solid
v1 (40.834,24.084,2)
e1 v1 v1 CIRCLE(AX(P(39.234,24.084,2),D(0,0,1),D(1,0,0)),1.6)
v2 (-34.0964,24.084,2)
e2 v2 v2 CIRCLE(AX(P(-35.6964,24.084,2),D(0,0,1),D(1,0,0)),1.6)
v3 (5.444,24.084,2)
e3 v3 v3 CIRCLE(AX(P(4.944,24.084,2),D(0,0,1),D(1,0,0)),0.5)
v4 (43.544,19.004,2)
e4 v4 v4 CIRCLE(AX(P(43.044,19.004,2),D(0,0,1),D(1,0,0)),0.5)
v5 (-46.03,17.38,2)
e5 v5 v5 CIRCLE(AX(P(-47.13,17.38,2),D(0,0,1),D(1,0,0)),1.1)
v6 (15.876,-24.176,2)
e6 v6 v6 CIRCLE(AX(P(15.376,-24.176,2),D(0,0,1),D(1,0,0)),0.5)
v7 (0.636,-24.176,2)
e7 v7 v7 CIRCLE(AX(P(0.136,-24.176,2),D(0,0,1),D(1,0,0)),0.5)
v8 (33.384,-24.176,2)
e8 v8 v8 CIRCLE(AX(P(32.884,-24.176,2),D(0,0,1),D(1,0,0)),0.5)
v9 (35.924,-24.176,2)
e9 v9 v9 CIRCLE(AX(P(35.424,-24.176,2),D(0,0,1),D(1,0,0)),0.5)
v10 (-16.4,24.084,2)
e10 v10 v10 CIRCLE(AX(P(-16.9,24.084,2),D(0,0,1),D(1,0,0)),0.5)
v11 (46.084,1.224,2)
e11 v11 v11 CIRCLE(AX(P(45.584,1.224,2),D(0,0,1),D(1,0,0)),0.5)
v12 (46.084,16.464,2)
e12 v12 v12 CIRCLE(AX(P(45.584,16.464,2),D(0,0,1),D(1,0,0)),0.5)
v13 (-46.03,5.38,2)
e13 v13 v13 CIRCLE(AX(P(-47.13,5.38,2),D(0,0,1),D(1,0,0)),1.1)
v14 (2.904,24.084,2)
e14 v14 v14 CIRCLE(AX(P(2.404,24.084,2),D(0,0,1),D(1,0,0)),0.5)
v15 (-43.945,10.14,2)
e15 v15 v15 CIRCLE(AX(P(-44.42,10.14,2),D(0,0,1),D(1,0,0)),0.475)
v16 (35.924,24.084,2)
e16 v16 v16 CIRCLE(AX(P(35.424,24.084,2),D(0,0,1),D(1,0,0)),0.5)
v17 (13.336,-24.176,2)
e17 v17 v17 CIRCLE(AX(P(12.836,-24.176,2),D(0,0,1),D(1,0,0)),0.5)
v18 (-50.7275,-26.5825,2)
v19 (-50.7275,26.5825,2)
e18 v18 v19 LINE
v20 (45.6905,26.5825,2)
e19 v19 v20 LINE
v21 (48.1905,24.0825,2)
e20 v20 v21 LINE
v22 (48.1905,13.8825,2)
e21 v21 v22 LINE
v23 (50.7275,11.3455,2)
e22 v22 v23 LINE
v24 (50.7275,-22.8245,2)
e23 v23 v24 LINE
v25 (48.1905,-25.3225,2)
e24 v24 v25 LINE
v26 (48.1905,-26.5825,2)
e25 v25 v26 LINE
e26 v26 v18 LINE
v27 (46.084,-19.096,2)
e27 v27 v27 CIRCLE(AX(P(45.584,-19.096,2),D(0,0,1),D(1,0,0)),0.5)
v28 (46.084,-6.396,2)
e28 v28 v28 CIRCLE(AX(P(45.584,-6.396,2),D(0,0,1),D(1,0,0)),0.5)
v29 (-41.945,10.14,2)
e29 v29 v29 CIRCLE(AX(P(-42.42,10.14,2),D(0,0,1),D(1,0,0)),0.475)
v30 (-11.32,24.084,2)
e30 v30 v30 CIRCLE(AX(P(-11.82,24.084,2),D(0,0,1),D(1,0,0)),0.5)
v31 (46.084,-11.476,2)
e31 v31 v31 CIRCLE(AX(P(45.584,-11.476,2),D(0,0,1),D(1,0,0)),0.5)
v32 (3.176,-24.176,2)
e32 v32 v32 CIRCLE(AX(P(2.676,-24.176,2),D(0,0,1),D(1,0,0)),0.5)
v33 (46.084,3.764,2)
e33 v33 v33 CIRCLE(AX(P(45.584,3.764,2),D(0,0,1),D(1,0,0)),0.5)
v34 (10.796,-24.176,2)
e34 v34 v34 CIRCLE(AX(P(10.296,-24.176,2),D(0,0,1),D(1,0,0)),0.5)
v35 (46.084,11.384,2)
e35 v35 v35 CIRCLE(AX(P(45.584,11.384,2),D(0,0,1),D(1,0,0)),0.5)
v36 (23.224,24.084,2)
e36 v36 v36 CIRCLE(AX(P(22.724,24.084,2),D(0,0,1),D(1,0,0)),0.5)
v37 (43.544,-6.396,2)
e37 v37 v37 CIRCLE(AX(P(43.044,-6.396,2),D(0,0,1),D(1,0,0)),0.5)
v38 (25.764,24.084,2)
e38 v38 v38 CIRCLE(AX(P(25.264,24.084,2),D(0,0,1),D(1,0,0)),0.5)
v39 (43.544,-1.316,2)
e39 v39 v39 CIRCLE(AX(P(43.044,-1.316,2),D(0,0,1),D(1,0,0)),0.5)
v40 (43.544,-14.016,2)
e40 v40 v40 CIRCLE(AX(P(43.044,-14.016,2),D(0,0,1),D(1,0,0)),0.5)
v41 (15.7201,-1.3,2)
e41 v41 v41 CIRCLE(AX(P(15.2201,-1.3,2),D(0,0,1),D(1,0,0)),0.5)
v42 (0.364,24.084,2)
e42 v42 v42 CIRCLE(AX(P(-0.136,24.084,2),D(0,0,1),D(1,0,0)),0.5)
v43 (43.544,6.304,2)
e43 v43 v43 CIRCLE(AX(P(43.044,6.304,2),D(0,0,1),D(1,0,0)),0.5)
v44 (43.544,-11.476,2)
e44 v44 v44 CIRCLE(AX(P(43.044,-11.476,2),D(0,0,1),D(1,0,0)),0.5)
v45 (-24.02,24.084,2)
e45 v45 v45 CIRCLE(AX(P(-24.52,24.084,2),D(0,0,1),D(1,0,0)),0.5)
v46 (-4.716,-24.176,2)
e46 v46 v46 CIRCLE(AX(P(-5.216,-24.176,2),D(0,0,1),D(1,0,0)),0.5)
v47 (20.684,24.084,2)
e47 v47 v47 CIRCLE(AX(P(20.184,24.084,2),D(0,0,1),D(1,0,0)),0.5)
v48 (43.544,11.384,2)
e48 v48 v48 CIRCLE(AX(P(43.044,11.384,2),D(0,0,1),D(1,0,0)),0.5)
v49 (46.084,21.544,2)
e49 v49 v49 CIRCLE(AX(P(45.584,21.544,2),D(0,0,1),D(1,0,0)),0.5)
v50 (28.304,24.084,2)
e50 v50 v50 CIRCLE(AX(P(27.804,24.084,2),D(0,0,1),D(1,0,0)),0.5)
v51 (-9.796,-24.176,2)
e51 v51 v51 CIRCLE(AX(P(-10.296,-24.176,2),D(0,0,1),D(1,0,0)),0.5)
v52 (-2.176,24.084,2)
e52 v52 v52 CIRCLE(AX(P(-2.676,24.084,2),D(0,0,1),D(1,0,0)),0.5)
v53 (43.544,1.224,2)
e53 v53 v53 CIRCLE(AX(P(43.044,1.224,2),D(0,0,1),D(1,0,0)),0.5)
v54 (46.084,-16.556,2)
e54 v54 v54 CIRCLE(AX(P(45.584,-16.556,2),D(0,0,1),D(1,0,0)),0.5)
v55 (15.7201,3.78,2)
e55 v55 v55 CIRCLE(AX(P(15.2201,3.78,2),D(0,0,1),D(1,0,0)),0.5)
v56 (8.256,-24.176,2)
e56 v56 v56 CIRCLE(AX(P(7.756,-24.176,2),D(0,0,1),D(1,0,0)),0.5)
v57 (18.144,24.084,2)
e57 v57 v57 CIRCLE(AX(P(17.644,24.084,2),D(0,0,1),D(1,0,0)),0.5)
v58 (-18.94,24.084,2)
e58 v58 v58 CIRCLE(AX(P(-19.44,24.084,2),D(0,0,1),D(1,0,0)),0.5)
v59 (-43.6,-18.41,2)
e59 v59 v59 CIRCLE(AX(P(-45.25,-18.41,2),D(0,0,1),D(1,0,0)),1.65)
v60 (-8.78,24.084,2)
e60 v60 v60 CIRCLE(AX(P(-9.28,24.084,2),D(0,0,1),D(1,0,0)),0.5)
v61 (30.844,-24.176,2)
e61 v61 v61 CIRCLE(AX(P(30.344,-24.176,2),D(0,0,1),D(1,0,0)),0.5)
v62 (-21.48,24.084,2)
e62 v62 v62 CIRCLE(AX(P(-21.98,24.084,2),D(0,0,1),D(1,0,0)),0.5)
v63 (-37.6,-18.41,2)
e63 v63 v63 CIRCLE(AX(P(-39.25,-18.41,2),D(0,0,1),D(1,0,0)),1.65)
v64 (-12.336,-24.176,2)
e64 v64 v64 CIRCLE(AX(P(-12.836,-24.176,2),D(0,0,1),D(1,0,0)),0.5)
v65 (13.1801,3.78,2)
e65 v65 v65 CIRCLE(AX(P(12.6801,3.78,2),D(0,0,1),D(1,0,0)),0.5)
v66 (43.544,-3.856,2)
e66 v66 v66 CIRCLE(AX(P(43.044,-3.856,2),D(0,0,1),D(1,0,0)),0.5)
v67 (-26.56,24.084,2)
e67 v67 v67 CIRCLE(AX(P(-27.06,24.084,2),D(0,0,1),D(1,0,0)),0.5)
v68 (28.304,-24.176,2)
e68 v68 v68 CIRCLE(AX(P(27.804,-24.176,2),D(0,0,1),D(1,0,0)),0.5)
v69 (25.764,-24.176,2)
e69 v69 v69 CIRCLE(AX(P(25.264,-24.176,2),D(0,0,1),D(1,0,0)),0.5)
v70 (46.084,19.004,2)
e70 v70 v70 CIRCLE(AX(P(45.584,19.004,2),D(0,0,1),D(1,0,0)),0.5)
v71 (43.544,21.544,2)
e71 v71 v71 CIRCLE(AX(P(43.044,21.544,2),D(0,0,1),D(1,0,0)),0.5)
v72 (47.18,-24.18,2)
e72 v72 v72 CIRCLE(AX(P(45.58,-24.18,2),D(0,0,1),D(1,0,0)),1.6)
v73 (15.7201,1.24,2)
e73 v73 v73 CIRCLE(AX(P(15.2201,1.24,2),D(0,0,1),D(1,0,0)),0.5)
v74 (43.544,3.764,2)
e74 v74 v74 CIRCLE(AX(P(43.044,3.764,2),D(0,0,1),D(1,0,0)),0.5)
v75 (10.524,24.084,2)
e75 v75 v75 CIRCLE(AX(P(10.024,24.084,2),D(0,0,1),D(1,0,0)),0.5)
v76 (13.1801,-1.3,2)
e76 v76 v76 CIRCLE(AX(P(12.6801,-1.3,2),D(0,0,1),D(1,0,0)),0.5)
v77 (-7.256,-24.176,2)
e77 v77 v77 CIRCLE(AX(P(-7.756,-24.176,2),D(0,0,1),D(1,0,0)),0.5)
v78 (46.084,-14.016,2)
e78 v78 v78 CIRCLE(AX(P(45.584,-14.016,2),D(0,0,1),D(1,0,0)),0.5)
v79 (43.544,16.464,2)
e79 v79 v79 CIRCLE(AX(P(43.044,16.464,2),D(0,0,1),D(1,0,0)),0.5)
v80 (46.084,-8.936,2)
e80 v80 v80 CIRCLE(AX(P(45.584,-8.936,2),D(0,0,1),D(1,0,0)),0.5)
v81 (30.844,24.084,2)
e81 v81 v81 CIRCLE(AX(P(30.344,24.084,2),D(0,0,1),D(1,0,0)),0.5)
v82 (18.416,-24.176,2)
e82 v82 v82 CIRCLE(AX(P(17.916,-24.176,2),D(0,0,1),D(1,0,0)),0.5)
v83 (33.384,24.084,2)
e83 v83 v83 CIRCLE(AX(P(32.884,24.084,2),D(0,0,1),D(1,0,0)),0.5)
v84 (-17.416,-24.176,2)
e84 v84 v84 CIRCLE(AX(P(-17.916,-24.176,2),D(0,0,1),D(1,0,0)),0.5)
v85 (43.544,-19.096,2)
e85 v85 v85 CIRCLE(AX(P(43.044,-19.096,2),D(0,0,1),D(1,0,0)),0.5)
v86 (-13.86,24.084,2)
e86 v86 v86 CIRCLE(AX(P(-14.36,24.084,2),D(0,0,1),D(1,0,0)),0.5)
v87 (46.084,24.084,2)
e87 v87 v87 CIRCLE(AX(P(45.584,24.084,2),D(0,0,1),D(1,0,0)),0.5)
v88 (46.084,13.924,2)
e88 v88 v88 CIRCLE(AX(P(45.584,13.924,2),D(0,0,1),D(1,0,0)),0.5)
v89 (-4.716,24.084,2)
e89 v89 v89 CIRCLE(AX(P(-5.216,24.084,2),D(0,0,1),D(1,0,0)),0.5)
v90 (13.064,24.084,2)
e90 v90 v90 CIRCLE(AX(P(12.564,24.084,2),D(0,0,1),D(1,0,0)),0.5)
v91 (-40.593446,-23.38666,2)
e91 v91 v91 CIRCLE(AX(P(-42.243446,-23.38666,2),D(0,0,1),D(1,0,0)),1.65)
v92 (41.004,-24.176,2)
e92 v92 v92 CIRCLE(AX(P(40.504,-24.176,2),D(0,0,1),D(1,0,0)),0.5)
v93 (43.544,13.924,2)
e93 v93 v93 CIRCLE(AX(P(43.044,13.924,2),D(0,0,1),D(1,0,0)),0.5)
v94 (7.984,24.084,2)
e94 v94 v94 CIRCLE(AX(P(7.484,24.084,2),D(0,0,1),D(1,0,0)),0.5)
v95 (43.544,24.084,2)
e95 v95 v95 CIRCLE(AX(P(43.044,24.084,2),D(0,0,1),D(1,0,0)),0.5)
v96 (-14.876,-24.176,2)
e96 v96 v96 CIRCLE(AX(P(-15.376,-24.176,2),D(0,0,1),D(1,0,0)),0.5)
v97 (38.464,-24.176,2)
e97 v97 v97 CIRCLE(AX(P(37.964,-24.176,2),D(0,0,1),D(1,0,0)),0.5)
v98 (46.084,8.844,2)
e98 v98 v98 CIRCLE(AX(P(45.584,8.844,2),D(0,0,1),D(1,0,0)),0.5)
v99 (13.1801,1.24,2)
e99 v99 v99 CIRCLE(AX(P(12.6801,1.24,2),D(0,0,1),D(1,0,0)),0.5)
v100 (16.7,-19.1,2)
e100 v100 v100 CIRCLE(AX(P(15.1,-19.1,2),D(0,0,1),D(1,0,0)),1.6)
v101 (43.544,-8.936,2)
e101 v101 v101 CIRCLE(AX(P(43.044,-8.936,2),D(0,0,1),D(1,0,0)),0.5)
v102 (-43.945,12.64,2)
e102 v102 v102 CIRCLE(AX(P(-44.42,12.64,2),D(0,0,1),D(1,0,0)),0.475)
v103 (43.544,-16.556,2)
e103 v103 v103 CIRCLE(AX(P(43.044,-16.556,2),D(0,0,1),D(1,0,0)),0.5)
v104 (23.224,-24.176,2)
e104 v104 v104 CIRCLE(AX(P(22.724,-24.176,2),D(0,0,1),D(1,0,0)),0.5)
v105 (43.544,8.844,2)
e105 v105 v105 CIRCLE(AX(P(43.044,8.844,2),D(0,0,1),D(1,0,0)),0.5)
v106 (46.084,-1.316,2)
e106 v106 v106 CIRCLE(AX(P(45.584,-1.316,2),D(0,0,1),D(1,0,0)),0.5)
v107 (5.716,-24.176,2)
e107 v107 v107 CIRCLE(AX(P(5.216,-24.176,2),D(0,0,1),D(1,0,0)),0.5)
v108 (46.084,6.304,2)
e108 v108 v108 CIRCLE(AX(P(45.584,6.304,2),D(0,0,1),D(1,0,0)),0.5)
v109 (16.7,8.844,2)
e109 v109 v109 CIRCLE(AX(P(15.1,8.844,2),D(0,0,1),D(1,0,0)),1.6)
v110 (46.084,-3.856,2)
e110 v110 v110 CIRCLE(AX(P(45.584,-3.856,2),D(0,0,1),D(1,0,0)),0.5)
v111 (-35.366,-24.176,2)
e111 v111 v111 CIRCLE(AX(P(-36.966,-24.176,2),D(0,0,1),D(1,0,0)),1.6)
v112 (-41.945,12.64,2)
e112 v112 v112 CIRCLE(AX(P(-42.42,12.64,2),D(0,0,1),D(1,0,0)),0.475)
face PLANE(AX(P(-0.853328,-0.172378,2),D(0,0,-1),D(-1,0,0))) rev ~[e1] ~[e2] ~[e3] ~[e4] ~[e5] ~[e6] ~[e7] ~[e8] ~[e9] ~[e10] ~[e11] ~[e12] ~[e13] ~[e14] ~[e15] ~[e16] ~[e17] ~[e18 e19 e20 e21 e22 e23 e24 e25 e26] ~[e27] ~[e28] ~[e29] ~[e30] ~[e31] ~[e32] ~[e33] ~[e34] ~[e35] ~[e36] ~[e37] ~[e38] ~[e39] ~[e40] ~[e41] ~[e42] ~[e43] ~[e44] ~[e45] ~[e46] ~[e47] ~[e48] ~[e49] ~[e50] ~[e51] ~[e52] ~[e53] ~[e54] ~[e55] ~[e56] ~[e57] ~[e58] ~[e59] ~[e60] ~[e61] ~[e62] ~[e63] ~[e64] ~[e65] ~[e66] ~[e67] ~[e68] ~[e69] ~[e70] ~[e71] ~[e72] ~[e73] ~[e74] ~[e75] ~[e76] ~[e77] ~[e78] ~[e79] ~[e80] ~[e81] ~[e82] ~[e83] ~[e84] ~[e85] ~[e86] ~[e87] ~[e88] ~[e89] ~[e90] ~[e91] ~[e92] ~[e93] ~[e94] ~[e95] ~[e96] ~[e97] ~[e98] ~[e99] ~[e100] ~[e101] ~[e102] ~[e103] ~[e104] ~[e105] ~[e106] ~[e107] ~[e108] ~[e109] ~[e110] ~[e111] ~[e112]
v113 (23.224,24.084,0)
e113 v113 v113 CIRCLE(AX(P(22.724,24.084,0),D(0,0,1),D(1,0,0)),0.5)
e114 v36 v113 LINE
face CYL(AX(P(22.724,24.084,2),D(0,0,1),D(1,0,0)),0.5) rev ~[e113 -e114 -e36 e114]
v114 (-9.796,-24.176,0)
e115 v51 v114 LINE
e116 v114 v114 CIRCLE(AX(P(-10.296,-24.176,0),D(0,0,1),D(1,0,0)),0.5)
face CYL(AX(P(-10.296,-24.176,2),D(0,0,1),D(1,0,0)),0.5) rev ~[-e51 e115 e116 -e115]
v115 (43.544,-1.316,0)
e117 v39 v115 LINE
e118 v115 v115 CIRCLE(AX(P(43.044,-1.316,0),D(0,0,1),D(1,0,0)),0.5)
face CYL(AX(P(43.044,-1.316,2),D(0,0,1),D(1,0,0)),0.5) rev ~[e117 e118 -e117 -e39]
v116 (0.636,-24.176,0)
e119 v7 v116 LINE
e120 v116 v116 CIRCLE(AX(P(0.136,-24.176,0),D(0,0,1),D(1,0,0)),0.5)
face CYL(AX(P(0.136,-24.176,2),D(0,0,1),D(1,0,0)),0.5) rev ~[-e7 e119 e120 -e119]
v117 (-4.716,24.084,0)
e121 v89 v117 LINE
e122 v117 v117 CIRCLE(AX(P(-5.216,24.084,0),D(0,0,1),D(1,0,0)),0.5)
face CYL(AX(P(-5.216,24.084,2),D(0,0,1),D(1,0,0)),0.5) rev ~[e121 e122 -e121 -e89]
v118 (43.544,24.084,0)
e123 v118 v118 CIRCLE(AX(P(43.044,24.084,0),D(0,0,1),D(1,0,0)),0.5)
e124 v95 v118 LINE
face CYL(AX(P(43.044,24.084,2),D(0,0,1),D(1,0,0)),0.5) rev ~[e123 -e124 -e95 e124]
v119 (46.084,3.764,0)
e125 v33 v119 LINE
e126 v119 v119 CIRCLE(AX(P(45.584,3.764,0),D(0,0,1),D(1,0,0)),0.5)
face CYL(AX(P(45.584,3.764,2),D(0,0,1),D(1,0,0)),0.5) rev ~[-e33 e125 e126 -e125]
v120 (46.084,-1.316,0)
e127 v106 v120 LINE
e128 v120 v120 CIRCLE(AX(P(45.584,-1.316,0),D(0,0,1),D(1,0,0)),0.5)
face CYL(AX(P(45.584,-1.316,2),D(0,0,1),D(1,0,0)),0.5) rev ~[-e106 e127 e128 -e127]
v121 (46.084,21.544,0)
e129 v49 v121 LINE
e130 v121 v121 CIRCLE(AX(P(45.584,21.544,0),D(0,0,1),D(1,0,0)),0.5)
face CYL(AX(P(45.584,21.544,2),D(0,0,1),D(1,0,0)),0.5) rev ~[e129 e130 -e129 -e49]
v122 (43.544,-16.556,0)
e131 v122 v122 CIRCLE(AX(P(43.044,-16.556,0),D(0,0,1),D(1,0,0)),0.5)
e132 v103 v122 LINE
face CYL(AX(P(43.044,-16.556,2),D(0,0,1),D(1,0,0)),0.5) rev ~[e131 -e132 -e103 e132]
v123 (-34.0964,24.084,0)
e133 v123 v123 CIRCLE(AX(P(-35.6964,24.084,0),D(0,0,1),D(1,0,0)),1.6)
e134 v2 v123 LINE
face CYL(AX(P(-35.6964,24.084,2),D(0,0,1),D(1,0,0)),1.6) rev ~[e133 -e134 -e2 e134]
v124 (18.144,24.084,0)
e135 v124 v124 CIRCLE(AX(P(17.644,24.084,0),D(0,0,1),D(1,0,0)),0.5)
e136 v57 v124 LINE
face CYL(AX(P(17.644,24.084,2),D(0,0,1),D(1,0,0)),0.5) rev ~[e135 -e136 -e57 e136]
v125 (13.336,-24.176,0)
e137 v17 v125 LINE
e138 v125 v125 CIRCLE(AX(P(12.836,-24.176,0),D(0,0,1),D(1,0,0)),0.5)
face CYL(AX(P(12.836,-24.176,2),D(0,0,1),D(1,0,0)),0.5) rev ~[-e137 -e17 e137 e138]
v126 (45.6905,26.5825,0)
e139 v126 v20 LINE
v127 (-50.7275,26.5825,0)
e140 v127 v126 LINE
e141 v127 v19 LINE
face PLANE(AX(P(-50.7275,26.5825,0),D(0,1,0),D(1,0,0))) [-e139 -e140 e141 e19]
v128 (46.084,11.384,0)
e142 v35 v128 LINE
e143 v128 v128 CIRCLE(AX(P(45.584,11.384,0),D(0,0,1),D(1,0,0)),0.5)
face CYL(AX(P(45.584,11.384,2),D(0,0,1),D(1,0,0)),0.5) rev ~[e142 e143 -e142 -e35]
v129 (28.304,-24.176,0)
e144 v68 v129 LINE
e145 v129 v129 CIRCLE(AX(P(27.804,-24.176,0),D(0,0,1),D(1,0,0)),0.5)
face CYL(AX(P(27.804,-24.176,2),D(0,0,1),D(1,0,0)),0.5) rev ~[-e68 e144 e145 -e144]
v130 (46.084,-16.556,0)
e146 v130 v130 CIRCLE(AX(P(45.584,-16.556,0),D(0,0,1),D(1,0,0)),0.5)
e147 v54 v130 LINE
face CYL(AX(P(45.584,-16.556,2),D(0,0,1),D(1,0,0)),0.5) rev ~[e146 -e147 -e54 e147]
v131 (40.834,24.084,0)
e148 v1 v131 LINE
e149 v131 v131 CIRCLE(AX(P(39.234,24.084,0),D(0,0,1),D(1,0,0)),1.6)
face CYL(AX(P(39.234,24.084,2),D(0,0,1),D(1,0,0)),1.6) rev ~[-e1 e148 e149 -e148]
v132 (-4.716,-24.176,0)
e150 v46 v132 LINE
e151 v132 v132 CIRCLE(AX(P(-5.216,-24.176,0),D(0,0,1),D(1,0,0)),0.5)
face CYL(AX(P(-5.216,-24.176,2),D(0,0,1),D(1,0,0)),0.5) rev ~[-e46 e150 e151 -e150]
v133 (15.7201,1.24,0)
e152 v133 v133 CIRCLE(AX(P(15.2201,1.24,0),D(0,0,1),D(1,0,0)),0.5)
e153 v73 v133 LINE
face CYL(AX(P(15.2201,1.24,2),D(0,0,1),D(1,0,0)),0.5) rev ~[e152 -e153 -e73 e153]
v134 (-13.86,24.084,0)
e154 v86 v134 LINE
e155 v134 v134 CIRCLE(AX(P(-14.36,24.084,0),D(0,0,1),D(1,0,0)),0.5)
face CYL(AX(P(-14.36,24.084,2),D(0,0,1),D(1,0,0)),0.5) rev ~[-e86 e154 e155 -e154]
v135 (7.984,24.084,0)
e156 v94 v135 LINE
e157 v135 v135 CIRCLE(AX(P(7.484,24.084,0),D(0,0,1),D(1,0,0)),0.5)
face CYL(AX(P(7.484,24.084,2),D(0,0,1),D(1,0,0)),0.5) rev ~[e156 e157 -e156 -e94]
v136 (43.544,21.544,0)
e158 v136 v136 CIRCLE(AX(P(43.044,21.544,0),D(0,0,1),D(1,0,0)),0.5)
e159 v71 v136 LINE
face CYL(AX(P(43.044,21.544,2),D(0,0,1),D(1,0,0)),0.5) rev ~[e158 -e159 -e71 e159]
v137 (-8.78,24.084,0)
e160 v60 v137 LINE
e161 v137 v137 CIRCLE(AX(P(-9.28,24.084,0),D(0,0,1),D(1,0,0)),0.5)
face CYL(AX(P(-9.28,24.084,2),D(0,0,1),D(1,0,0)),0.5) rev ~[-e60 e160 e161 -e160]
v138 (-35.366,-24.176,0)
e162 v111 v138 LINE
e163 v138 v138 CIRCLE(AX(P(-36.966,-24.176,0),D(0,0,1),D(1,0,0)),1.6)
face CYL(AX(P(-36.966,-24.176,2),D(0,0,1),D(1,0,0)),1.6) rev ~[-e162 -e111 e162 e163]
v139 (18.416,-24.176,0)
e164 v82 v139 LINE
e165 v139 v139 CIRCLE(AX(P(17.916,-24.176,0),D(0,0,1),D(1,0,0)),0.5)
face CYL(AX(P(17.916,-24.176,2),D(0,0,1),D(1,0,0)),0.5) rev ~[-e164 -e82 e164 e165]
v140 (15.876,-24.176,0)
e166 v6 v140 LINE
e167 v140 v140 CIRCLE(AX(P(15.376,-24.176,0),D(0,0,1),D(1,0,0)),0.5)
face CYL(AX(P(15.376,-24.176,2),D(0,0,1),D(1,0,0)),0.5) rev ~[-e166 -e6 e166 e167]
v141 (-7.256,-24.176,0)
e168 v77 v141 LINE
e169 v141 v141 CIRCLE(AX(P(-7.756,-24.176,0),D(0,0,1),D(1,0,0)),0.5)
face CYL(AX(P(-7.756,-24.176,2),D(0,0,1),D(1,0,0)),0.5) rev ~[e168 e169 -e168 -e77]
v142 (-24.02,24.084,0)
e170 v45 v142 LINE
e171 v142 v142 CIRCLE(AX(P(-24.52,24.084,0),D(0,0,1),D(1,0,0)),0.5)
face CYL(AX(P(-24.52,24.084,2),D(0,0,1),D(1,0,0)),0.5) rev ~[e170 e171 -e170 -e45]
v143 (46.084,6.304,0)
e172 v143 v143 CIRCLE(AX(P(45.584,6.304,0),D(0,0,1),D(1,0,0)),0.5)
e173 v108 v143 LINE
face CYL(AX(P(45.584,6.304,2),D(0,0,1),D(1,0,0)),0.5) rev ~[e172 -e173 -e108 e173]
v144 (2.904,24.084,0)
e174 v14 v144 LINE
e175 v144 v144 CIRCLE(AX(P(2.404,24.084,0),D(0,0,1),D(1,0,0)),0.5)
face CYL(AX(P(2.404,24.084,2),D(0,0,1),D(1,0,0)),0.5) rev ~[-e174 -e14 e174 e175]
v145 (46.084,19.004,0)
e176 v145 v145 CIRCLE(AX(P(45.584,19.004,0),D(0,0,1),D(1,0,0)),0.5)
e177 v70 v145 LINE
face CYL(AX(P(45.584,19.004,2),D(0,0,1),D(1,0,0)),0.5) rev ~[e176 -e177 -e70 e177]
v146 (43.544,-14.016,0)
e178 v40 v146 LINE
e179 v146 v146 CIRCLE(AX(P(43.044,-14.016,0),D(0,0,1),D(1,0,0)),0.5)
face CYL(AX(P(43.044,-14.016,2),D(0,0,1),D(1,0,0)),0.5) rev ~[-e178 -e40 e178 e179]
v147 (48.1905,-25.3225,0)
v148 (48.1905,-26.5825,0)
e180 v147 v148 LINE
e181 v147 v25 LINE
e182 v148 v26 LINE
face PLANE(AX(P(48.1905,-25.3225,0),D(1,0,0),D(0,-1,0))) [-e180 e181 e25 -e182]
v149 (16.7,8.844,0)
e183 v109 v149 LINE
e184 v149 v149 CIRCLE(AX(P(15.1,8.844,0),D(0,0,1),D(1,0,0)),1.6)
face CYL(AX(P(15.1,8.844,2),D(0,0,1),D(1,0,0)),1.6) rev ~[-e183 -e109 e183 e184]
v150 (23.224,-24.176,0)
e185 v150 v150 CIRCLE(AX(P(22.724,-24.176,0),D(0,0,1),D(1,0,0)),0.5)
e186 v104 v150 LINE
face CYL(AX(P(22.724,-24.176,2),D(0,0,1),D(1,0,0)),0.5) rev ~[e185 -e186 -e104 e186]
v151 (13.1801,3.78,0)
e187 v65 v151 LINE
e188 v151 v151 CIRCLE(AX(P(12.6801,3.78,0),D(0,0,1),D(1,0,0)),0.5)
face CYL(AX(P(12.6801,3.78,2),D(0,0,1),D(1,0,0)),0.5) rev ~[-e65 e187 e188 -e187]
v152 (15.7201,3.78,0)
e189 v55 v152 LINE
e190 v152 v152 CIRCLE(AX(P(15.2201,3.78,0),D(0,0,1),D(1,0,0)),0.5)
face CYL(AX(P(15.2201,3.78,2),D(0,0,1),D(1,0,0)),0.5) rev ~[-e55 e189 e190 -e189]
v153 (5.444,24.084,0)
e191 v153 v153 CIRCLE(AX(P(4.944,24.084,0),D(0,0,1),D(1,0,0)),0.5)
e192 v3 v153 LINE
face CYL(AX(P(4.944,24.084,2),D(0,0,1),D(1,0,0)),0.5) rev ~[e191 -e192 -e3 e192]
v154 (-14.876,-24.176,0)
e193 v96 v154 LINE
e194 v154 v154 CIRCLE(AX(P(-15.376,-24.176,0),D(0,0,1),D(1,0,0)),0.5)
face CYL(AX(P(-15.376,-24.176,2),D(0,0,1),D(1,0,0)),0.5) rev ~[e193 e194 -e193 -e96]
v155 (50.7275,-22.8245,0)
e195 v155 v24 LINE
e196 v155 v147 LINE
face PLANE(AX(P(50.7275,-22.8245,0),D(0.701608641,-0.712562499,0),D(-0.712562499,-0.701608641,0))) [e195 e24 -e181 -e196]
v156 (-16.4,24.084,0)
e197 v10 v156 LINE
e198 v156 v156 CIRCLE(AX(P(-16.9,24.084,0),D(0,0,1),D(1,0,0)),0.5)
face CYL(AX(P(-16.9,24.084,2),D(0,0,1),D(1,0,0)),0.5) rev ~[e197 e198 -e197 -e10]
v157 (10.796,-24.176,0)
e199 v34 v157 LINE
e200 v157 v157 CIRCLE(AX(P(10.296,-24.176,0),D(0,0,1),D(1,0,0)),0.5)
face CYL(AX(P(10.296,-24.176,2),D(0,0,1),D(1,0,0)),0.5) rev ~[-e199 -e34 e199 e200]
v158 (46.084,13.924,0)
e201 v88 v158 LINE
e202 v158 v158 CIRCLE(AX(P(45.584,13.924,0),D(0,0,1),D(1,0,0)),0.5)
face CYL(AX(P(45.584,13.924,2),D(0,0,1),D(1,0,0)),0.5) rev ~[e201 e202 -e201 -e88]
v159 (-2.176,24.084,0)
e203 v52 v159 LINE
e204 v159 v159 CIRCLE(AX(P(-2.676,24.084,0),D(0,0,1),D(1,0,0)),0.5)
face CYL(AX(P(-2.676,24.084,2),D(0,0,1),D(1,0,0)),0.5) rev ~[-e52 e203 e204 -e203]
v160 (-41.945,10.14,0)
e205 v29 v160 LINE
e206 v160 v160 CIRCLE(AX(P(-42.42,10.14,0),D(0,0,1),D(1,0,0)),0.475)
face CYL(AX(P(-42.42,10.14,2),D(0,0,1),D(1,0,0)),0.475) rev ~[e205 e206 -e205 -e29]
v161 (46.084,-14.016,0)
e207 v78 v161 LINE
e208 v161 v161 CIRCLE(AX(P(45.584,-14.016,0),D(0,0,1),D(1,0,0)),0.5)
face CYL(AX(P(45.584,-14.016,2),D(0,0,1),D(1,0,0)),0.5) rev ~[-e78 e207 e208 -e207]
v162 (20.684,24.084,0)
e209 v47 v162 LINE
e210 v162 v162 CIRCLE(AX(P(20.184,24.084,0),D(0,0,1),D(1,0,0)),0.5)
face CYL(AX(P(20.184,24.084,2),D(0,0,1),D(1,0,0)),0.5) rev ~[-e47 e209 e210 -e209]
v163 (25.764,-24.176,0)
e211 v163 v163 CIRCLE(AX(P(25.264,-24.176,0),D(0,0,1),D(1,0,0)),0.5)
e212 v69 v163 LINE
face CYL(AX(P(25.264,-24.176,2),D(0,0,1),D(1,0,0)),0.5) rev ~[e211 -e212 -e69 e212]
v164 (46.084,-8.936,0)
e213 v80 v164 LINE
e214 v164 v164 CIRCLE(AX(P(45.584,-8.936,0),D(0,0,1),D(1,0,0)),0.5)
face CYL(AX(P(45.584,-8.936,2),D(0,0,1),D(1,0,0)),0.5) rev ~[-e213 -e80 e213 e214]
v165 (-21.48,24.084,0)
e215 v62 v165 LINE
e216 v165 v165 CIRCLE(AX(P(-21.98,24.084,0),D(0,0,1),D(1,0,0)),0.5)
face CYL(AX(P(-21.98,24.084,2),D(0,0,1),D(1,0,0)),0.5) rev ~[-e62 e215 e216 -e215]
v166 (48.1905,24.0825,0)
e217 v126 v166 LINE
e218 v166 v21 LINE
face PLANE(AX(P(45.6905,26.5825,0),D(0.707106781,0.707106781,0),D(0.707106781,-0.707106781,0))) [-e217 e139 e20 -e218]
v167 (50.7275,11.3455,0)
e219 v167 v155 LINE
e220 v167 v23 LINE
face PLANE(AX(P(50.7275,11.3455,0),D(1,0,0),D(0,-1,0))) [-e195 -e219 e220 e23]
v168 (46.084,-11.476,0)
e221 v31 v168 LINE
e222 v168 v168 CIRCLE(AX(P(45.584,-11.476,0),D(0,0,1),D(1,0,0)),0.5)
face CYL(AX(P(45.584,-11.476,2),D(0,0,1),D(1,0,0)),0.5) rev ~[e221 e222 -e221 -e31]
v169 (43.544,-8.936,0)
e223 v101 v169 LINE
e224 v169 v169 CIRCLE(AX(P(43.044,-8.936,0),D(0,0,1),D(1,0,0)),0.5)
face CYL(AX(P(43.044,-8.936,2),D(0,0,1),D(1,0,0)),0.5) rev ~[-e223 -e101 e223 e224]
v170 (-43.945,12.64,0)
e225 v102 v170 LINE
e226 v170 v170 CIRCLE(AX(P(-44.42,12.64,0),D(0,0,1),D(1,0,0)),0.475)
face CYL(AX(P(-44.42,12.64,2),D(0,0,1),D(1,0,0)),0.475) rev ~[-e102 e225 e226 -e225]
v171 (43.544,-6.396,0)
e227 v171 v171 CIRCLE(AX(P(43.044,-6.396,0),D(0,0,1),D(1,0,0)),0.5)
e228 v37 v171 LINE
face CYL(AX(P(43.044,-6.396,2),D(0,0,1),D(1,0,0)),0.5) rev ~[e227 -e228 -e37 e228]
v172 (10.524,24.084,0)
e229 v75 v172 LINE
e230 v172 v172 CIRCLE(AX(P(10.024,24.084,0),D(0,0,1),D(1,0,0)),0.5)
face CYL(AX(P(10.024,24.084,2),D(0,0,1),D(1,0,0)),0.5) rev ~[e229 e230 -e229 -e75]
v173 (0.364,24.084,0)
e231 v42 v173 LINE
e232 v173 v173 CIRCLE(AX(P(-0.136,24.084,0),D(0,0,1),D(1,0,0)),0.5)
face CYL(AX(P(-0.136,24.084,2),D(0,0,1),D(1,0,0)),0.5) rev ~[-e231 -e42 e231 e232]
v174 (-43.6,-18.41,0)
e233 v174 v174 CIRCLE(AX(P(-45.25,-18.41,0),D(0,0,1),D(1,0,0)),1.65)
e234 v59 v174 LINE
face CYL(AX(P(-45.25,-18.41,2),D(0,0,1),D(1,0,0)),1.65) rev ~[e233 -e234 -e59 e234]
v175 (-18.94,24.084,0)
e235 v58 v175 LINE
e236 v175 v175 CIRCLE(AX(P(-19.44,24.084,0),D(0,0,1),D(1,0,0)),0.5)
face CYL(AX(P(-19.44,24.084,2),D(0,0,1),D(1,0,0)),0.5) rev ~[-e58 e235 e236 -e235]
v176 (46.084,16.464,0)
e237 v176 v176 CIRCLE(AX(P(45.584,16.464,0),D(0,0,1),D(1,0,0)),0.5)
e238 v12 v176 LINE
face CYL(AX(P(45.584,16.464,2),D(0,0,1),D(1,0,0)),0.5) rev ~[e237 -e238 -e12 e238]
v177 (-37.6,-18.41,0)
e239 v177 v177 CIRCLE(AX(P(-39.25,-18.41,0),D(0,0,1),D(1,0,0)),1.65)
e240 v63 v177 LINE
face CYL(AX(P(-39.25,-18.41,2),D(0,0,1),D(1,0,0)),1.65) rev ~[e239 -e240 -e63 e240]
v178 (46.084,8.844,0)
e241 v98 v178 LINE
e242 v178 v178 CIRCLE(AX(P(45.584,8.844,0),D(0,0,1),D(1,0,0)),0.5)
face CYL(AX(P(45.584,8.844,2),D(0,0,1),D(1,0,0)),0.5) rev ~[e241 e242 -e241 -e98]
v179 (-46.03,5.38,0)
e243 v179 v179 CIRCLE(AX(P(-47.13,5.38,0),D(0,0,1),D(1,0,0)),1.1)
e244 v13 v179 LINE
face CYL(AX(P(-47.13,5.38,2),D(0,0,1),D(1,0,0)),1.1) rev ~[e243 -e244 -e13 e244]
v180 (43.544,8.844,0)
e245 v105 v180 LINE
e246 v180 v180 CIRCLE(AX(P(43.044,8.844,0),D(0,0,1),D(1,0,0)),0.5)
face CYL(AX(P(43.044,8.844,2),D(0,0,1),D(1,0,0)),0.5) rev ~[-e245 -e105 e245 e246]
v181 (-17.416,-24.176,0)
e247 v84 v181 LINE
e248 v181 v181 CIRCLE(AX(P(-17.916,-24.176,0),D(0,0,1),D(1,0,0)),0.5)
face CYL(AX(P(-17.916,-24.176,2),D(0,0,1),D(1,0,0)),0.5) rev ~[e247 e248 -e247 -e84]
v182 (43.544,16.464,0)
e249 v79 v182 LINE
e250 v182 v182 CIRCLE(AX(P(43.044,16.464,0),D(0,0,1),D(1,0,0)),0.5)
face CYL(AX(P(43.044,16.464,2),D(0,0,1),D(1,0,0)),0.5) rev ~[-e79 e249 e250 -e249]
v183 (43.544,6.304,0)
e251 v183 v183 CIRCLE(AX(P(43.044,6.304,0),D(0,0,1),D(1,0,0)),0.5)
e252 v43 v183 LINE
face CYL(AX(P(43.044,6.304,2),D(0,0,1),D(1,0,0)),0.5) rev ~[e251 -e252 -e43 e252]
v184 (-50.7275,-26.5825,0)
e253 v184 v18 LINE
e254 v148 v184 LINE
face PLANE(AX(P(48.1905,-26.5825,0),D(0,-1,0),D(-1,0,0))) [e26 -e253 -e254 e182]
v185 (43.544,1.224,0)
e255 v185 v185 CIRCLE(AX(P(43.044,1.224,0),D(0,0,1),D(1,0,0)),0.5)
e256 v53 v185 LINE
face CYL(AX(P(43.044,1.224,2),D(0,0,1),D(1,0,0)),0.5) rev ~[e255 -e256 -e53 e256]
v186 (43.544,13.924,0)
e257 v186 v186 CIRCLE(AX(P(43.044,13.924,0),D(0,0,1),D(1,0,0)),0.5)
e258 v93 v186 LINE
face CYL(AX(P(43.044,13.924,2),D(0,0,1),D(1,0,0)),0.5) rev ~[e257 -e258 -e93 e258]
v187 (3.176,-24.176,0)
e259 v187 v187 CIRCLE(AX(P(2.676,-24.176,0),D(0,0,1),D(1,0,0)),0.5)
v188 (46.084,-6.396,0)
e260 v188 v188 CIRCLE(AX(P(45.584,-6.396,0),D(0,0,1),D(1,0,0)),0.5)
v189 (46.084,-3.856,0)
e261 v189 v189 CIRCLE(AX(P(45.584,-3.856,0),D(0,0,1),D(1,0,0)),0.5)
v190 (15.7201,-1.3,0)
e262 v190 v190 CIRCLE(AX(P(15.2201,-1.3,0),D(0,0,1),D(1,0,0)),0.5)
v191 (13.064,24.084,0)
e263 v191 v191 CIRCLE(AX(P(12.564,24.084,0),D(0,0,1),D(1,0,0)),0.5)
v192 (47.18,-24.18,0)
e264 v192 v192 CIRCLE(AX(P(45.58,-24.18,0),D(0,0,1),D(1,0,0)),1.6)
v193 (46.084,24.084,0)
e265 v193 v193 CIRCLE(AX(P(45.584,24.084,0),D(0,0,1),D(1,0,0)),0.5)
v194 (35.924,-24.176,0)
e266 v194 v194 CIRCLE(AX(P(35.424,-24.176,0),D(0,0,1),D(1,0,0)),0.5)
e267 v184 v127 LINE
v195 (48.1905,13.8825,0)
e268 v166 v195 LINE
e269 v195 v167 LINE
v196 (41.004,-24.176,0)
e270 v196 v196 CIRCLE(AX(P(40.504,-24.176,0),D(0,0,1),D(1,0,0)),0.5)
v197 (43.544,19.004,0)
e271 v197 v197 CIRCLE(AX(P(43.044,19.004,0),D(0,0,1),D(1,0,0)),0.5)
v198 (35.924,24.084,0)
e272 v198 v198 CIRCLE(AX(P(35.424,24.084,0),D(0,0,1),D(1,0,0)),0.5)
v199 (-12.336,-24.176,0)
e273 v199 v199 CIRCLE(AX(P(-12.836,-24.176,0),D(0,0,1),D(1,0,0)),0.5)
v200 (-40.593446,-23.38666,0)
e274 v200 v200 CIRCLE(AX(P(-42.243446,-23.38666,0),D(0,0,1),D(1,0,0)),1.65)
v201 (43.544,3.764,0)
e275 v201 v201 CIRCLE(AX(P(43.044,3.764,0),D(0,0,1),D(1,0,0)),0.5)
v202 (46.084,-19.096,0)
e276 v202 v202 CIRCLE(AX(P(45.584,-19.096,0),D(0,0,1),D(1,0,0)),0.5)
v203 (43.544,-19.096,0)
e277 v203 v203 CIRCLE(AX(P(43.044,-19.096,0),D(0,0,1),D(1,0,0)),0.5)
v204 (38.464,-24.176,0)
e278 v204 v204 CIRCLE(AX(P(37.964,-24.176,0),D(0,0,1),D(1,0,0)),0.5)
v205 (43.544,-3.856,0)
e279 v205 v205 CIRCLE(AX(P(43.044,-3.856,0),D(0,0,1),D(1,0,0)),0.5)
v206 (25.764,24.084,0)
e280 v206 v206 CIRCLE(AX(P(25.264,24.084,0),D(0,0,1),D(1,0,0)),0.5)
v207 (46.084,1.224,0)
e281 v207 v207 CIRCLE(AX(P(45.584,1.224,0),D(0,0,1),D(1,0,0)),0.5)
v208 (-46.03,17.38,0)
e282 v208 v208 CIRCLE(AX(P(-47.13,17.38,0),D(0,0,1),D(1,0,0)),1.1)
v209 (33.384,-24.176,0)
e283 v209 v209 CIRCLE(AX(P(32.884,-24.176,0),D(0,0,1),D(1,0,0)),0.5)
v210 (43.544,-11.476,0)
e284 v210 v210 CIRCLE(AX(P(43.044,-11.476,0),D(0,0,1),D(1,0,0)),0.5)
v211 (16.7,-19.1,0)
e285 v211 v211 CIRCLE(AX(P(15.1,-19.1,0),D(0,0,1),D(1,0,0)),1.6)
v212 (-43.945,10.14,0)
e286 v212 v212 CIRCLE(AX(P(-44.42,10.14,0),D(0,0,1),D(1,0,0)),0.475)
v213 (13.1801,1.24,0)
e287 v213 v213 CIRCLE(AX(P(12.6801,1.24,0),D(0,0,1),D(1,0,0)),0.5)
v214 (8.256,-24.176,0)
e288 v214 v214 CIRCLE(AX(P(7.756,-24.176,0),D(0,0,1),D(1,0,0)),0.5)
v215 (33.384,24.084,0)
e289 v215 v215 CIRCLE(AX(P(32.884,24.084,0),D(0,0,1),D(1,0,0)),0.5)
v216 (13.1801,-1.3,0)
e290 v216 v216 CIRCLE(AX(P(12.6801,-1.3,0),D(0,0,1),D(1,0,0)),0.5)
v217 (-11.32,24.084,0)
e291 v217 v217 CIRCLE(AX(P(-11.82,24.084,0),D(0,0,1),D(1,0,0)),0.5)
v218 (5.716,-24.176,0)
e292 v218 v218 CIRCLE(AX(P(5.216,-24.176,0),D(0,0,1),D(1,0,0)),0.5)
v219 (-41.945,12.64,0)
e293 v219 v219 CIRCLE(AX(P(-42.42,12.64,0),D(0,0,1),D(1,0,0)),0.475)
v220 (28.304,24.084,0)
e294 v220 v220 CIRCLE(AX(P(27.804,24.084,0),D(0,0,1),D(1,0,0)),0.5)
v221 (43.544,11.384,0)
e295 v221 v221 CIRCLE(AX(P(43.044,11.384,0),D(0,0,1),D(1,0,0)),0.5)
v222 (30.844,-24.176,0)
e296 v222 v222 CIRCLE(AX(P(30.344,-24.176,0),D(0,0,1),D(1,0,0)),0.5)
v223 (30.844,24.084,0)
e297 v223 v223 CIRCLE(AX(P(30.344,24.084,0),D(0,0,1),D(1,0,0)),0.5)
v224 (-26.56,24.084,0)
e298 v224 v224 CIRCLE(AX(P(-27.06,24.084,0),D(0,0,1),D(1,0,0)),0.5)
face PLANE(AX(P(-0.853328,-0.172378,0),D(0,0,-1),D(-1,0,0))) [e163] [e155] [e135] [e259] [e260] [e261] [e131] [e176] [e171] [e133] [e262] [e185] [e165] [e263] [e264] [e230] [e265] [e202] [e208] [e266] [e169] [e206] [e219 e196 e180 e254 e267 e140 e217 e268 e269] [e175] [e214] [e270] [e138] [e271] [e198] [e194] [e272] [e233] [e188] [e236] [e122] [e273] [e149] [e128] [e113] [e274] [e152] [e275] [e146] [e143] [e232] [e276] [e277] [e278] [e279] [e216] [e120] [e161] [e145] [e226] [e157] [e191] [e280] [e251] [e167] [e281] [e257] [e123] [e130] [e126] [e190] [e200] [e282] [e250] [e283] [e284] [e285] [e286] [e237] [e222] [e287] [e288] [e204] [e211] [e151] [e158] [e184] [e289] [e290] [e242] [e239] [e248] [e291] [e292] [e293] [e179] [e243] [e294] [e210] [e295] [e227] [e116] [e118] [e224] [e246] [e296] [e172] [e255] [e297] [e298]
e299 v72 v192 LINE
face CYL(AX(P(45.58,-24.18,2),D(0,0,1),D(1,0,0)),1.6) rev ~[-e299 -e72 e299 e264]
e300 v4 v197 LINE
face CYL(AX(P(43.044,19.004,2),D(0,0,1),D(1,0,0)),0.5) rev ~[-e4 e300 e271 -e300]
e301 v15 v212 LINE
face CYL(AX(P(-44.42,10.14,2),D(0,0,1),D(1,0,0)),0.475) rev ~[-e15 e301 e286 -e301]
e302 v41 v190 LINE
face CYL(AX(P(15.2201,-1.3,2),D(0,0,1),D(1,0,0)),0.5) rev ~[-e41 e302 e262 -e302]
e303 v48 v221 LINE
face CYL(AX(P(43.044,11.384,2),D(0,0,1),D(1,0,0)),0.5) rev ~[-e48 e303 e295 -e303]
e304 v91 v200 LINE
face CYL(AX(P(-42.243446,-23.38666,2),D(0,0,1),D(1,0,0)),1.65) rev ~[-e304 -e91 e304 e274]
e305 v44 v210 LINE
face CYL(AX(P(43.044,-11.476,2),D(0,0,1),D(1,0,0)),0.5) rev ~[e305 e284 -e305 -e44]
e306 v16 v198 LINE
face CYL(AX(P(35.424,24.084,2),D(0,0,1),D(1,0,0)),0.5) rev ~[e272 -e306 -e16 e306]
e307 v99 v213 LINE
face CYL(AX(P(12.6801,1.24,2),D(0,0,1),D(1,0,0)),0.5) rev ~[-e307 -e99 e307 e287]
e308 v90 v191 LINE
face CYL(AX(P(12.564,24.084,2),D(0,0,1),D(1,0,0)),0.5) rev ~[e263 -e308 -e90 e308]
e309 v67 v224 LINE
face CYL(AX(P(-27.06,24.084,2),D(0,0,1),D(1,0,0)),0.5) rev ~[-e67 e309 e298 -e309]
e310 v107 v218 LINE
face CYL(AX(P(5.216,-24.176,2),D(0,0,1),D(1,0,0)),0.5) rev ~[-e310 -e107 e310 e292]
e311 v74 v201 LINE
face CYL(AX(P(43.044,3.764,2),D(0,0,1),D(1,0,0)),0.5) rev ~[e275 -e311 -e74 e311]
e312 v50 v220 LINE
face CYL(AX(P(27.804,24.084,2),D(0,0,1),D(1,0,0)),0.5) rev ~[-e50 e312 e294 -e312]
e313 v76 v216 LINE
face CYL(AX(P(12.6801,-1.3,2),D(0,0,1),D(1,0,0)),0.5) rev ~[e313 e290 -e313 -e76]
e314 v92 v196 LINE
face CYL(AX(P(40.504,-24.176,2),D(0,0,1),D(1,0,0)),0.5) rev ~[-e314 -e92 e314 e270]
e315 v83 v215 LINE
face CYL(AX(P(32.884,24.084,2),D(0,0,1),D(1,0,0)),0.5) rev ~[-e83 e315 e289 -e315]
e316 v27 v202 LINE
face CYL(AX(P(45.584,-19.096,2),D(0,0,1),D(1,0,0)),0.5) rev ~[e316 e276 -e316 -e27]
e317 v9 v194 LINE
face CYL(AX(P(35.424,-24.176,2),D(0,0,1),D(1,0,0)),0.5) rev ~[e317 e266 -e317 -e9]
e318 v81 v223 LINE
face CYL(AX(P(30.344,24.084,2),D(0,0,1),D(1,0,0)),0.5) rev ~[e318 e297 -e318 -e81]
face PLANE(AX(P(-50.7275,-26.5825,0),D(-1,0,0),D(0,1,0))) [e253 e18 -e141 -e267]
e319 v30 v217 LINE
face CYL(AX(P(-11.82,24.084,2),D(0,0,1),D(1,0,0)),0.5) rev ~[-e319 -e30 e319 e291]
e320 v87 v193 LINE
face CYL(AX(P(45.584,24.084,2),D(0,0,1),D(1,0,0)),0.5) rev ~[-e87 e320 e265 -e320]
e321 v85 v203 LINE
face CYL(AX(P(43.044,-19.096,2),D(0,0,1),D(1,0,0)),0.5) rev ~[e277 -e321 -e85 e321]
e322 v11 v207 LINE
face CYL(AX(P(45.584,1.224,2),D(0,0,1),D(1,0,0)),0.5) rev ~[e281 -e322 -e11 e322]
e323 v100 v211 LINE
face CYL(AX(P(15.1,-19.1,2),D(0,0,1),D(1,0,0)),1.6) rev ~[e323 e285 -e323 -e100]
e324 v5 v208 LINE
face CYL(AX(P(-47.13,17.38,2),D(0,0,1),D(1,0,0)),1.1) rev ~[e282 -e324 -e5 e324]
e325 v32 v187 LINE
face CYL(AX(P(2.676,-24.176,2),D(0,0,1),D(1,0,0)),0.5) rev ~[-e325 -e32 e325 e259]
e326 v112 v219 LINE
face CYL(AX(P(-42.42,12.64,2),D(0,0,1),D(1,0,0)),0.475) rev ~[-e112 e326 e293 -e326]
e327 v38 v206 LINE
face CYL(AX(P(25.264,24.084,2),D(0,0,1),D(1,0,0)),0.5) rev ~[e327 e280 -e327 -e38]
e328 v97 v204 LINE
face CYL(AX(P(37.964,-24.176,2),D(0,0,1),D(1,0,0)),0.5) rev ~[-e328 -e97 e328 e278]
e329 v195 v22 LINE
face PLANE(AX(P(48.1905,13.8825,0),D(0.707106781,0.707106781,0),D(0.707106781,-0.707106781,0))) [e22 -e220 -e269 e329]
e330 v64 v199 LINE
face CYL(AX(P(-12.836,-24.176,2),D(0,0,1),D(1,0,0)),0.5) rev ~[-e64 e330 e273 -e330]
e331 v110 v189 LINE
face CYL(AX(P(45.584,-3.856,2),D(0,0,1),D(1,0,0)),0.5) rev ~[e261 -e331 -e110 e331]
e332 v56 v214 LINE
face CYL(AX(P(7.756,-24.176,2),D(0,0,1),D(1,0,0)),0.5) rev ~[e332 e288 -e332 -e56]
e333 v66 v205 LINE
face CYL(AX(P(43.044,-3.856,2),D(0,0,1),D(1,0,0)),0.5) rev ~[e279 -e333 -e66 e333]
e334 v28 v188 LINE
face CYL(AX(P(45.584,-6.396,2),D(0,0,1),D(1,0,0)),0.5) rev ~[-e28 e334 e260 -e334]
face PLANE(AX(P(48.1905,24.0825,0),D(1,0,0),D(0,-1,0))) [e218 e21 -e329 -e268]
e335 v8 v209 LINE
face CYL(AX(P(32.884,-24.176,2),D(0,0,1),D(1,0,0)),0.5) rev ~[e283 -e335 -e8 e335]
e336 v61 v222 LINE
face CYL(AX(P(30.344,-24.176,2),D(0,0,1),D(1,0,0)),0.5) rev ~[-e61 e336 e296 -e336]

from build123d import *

# Parameters (mm, degrees)
PAD001002_DEPTH     = 2
SKETCH019_R         = 1.6
POCKET006_DEPTH     = 2.001
SKETCH015_R         = 1.65
POCKET014_DEPTH     = 2.001
SKETCH016_R         = 1.1
SKETCH016_R_2       = 0.475
POCKET011_DEPTH     = 2.001
SKETCH017_R         = 0.5
POCKET012_DEPTH     = 2.001
SKETCH007_R         = 0.5
POCKET005_DEPTH     = 2.001
SKETCH008_R         = 0.5
POCKET013_DEPTH     = 2.001
SKETCH009_R         = 0.5
POCKET015_DEPTH     = 2.001
SKETCH010_R         = 0.5
POCKET007_DEPTH     = 2.001
SKETCH011_R         = 0.5
POCKET008_DEPTH     = 2.001
SKETCH012_R         = 0.5
POCKET009_DEPTH     = 2.001
SKETCH013_R         = 0.5
POCKET010_DEPTH     = 2.001
LINEARPATTERN_COUNT = 18
LINEARPATTERN_PITCH = 2.54


with BuildPart() as part:
    # Sketch018 → Pad001002 (new body)
    with BuildSketch(Plane.XY):
        Polygon((-50.7275, -26.5825), (-50.7275, 26.5825), (45.6905, 26.5825), (48.1905, 24.0825), (48.1905, 13.8825), (50.7275, 11.3455), (50.7275, -22.8245), (48.1905, -25.3225), (48.1905, -26.5825), align=None)
    extrude(amount=PAD001002_DEPTH)

    # Sketch019 (on Face11 of Pad001002) → Pocket006 (cut, through all)
    with BuildSketch(Plane.XY.offset(2)):
        with Locations((-35.6964, 24.084)):
            Circle(SKETCH019_R)
        with Locations((39.234, 24.084)):
            Circle(SKETCH019_R)
        with Locations((-36.966, -24.176)):
            Circle(SKETCH019_R)
        with Locations((15.1, -19.1)):
            Circle(SKETCH019_R)
        with Locations((15.1, 8.844)):
            Circle(SKETCH019_R)
        with Locations((45.58, -24.18)):
            Circle(SKETCH019_R)
    extrude(amount=-POCKET006_DEPTH, mode=Mode.SUBTRACT)

    # Sketch015 (on Face5 of Pocket006) → Pocket014 (cut, through all)
    with BuildSketch(Plane.XY.offset(2)):
        with Locations((-45.25, -18.41)):
            Circle(SKETCH015_R)
        with Locations((-39.25, -18.41)):
            Circle(SKETCH015_R)
        with Locations((-42.243446, -23.38666)):
            Circle(SKETCH015_R)
    extrude(amount=-POCKET014_DEPTH, mode=Mode.SUBTRACT)

    # Sketch016 (on Face5 of Pocket014) → Pocket011 (cut, through all)
    with BuildSketch(Plane.XY.offset(2)):
        with Locations((-47.13, 17.38)):
            Circle(SKETCH016_R)
        with Locations((-47.13, 5.38)):
            Circle(SKETCH016_R)
        with Locations((-44.42, 12.64)):
            Circle(SKETCH016_R_2)
        with Locations((-42.42, 12.64)):
            Circle(SKETCH016_R_2)
        with Locations((-44.42, 10.14)):
            Circle(SKETCH016_R_2)
        with Locations((-42.42, 10.14)):
            Circle(SKETCH016_R_2)
    extrude(amount=-POCKET011_DEPTH, mode=Mode.SUBTRACT)

    # Sketch017 (on Face5 of Pocket011) → Pocket012 (cut, through all)
    with BuildSketch(Plane.XY.offset(2)):
        with Locations((12.6801, -1.3)):
            Circle(SKETCH017_R)
        with Locations((15.2201, -1.3)):
            Circle(SKETCH017_R)
        with Locations((15.2201, 1.24)):
            Circle(SKETCH017_R)
        with Locations((12.6801, 1.24)):
            Circle(SKETCH017_R)
        with Locations((12.6801, 3.78)):
            Circle(SKETCH017_R)
        with Locations((15.2201, 3.78)):
            Circle(SKETCH017_R)
    extrude(amount=-POCKET012_DEPTH, mode=Mode.SUBTRACT)

    # Sketch007 (on Face5 of Pocket012) → Pocket005 (cut, through all)
    with BuildSketch(Plane.XY.offset(2)):
        with Locations((-27.06, 24.084)):
            Circle(SKETCH007_R)
        with Locations((-24.52, 24.084)):
            Circle(SKETCH007_R)
        with Locations((-21.98, 24.084)):
            Circle(SKETCH007_R)
        with Locations((-19.44, 24.084)):
            Circle(SKETCH007_R)
        with Locations((-16.9, 24.084)):
            Circle(SKETCH007_R)
        with Locations((-14.36, 24.084)):
            Circle(SKETCH007_R)
        with Locations((-11.82, 24.084)):
            Circle(SKETCH007_R)
        with Locations((-9.28, 24.084)):
            Circle(SKETCH007_R)
    extrude(amount=-POCKET005_DEPTH, mode=Mode.SUBTRACT)

    # Sketch008 (on Face5 of Pocket005) → Pocket013 (cut, through all)
    with BuildSketch(Plane.XY.offset(2)):
        with Locations((-5.216, 24.084)):
            Circle(SKETCH008_R)
        with Locations((-2.676, 24.084)):
            Circle(SKETCH008_R)
        with Locations((-0.136, 24.084)):
            Circle(SKETCH008_R)
        with Locations((2.404, 24.084)):
            Circle(SKETCH008_R)
        with Locations((4.944, 24.084)):
            Circle(SKETCH008_R)
        with Locations((7.484, 24.084)):
            Circle(SKETCH008_R)
        with Locations((10.024, 24.084)):
            Circle(SKETCH008_R)
        with Locations((12.564, 24.084)):
            Circle(SKETCH008_R)
    extrude(amount=-POCKET013_DEPTH, mode=Mode.SUBTRACT)

    # Sketch009 (on Face5 of Pocket013) → Pocket015 (cut, through all)
    with BuildSketch(Plane.XY.offset(2)):
        with Locations((17.644, 24.084)):
            Circle(SKETCH009_R)
        with Locations((20.184, 24.084)):
            Circle(SKETCH009_R)
        with Locations((22.724, 24.084)):
            Circle(SKETCH009_R)
        with Locations((25.264, 24.084)):
            Circle(SKETCH009_R)
        with Locations((27.804, 24.084)):
            Circle(SKETCH009_R)
        with Locations((30.344, 24.084)):
            Circle(SKETCH009_R)
        with Locations((32.884, 24.084)):
            Circle(SKETCH009_R)
        with Locations((35.424, 24.084)):
            Circle(SKETCH009_R)
    extrude(amount=-POCKET015_DEPTH, mode=Mode.SUBTRACT)

    # Sketch010 (on Face5 of Pocket015) → Pocket007 (cut, through all)
    with BuildSketch(Plane.XY.offset(2)):
        with Locations((-17.916, -24.176)):
            Circle(SKETCH010_R)
        with Locations((-15.376, -24.176)):
            Circle(SKETCH010_R)
        with Locations((-12.836, -24.176)):
            Circle(SKETCH010_R)
        with Locations((-10.296, -24.176)):
            Circle(SKETCH010_R)
        with Locations((-7.756, -24.176)):
            Circle(SKETCH010_R)
        with Locations((-5.216, -24.176)):
            Circle(SKETCH010_R)
    extrude(amount=-POCKET007_DEPTH, mode=Mode.SUBTRACT)

    # Sketch011 (on Face5 of Pocket007) → Pocket008 (cut, through all)
    with BuildSketch(Plane.XY.offset(2)):
        with Locations((0.136, -24.176)):
            Circle(SKETCH011_R)
        with Locations((2.676, -24.176)):
            Circle(SKETCH011_R)
        with Locations((5.216, -24.176)):
            Circle(SKETCH011_R)
        with Locations((7.756, -24.176)):
            Circle(SKETCH011_R)
        with Locations((10.296, -24.176)):
            Circle(SKETCH011_R)
        with Locations((12.836, -24.176)):
            Circle(SKETCH011_R)
        with Locations((15.376, -24.176)):
            Circle(SKETCH011_R)
        with Locations((17.916, -24.176)):
            Circle(SKETCH011_R)
    extrude(amount=-POCKET008_DEPTH, mode=Mode.SUBTRACT)

    # Sketch012 (on Face5 of Pocket008) → Pocket009 (cut, through all)
    with BuildSketch(Plane.XY.offset(2)):
        with Locations((22.724, -24.176)):
            Circle(SKETCH012_R)
        with Locations((25.264, -24.176)):
            Circle(SKETCH012_R)
        with Locations((27.804, -24.176)):
            Circle(SKETCH012_R)
        with Locations((30.344, -24.176)):
            Circle(SKETCH012_R)
        with Locations((32.884, -24.176)):
            Circle(SKETCH012_R)
        with Locations((35.424, -24.176)):
            Circle(SKETCH012_R)
        with Locations((37.964, -24.176)):
            Circle(SKETCH012_R)
        with Locations((40.504, -24.176)):
            Circle(SKETCH012_R)
    extrude(amount=-POCKET009_DEPTH, mode=Mode.SUBTRACT)

    # Sketch013 (on Face5 of Pocket009) → Pocket010 (cut, through all)
    with BuildSketch(Plane.XY.offset(2)):
        with Locations((43.044, 24.084)):
            Circle(SKETCH013_R)
        with Locations((45.584, 24.084)):
            Circle(SKETCH013_R)
    pocket010 = extrude(amount=-POCKET010_DEPTH, mode=Mode.SUBTRACT)

    # LinearPattern: Pocket010 ×18
    with Locations(*[(0, -i * LINEARPATTERN_PITCH, 0) for i in range(1, LINEARPATTERN_COUNT)]):
        add(pocket010, mode=Mode.SUBTRACT)


solid = part.part
